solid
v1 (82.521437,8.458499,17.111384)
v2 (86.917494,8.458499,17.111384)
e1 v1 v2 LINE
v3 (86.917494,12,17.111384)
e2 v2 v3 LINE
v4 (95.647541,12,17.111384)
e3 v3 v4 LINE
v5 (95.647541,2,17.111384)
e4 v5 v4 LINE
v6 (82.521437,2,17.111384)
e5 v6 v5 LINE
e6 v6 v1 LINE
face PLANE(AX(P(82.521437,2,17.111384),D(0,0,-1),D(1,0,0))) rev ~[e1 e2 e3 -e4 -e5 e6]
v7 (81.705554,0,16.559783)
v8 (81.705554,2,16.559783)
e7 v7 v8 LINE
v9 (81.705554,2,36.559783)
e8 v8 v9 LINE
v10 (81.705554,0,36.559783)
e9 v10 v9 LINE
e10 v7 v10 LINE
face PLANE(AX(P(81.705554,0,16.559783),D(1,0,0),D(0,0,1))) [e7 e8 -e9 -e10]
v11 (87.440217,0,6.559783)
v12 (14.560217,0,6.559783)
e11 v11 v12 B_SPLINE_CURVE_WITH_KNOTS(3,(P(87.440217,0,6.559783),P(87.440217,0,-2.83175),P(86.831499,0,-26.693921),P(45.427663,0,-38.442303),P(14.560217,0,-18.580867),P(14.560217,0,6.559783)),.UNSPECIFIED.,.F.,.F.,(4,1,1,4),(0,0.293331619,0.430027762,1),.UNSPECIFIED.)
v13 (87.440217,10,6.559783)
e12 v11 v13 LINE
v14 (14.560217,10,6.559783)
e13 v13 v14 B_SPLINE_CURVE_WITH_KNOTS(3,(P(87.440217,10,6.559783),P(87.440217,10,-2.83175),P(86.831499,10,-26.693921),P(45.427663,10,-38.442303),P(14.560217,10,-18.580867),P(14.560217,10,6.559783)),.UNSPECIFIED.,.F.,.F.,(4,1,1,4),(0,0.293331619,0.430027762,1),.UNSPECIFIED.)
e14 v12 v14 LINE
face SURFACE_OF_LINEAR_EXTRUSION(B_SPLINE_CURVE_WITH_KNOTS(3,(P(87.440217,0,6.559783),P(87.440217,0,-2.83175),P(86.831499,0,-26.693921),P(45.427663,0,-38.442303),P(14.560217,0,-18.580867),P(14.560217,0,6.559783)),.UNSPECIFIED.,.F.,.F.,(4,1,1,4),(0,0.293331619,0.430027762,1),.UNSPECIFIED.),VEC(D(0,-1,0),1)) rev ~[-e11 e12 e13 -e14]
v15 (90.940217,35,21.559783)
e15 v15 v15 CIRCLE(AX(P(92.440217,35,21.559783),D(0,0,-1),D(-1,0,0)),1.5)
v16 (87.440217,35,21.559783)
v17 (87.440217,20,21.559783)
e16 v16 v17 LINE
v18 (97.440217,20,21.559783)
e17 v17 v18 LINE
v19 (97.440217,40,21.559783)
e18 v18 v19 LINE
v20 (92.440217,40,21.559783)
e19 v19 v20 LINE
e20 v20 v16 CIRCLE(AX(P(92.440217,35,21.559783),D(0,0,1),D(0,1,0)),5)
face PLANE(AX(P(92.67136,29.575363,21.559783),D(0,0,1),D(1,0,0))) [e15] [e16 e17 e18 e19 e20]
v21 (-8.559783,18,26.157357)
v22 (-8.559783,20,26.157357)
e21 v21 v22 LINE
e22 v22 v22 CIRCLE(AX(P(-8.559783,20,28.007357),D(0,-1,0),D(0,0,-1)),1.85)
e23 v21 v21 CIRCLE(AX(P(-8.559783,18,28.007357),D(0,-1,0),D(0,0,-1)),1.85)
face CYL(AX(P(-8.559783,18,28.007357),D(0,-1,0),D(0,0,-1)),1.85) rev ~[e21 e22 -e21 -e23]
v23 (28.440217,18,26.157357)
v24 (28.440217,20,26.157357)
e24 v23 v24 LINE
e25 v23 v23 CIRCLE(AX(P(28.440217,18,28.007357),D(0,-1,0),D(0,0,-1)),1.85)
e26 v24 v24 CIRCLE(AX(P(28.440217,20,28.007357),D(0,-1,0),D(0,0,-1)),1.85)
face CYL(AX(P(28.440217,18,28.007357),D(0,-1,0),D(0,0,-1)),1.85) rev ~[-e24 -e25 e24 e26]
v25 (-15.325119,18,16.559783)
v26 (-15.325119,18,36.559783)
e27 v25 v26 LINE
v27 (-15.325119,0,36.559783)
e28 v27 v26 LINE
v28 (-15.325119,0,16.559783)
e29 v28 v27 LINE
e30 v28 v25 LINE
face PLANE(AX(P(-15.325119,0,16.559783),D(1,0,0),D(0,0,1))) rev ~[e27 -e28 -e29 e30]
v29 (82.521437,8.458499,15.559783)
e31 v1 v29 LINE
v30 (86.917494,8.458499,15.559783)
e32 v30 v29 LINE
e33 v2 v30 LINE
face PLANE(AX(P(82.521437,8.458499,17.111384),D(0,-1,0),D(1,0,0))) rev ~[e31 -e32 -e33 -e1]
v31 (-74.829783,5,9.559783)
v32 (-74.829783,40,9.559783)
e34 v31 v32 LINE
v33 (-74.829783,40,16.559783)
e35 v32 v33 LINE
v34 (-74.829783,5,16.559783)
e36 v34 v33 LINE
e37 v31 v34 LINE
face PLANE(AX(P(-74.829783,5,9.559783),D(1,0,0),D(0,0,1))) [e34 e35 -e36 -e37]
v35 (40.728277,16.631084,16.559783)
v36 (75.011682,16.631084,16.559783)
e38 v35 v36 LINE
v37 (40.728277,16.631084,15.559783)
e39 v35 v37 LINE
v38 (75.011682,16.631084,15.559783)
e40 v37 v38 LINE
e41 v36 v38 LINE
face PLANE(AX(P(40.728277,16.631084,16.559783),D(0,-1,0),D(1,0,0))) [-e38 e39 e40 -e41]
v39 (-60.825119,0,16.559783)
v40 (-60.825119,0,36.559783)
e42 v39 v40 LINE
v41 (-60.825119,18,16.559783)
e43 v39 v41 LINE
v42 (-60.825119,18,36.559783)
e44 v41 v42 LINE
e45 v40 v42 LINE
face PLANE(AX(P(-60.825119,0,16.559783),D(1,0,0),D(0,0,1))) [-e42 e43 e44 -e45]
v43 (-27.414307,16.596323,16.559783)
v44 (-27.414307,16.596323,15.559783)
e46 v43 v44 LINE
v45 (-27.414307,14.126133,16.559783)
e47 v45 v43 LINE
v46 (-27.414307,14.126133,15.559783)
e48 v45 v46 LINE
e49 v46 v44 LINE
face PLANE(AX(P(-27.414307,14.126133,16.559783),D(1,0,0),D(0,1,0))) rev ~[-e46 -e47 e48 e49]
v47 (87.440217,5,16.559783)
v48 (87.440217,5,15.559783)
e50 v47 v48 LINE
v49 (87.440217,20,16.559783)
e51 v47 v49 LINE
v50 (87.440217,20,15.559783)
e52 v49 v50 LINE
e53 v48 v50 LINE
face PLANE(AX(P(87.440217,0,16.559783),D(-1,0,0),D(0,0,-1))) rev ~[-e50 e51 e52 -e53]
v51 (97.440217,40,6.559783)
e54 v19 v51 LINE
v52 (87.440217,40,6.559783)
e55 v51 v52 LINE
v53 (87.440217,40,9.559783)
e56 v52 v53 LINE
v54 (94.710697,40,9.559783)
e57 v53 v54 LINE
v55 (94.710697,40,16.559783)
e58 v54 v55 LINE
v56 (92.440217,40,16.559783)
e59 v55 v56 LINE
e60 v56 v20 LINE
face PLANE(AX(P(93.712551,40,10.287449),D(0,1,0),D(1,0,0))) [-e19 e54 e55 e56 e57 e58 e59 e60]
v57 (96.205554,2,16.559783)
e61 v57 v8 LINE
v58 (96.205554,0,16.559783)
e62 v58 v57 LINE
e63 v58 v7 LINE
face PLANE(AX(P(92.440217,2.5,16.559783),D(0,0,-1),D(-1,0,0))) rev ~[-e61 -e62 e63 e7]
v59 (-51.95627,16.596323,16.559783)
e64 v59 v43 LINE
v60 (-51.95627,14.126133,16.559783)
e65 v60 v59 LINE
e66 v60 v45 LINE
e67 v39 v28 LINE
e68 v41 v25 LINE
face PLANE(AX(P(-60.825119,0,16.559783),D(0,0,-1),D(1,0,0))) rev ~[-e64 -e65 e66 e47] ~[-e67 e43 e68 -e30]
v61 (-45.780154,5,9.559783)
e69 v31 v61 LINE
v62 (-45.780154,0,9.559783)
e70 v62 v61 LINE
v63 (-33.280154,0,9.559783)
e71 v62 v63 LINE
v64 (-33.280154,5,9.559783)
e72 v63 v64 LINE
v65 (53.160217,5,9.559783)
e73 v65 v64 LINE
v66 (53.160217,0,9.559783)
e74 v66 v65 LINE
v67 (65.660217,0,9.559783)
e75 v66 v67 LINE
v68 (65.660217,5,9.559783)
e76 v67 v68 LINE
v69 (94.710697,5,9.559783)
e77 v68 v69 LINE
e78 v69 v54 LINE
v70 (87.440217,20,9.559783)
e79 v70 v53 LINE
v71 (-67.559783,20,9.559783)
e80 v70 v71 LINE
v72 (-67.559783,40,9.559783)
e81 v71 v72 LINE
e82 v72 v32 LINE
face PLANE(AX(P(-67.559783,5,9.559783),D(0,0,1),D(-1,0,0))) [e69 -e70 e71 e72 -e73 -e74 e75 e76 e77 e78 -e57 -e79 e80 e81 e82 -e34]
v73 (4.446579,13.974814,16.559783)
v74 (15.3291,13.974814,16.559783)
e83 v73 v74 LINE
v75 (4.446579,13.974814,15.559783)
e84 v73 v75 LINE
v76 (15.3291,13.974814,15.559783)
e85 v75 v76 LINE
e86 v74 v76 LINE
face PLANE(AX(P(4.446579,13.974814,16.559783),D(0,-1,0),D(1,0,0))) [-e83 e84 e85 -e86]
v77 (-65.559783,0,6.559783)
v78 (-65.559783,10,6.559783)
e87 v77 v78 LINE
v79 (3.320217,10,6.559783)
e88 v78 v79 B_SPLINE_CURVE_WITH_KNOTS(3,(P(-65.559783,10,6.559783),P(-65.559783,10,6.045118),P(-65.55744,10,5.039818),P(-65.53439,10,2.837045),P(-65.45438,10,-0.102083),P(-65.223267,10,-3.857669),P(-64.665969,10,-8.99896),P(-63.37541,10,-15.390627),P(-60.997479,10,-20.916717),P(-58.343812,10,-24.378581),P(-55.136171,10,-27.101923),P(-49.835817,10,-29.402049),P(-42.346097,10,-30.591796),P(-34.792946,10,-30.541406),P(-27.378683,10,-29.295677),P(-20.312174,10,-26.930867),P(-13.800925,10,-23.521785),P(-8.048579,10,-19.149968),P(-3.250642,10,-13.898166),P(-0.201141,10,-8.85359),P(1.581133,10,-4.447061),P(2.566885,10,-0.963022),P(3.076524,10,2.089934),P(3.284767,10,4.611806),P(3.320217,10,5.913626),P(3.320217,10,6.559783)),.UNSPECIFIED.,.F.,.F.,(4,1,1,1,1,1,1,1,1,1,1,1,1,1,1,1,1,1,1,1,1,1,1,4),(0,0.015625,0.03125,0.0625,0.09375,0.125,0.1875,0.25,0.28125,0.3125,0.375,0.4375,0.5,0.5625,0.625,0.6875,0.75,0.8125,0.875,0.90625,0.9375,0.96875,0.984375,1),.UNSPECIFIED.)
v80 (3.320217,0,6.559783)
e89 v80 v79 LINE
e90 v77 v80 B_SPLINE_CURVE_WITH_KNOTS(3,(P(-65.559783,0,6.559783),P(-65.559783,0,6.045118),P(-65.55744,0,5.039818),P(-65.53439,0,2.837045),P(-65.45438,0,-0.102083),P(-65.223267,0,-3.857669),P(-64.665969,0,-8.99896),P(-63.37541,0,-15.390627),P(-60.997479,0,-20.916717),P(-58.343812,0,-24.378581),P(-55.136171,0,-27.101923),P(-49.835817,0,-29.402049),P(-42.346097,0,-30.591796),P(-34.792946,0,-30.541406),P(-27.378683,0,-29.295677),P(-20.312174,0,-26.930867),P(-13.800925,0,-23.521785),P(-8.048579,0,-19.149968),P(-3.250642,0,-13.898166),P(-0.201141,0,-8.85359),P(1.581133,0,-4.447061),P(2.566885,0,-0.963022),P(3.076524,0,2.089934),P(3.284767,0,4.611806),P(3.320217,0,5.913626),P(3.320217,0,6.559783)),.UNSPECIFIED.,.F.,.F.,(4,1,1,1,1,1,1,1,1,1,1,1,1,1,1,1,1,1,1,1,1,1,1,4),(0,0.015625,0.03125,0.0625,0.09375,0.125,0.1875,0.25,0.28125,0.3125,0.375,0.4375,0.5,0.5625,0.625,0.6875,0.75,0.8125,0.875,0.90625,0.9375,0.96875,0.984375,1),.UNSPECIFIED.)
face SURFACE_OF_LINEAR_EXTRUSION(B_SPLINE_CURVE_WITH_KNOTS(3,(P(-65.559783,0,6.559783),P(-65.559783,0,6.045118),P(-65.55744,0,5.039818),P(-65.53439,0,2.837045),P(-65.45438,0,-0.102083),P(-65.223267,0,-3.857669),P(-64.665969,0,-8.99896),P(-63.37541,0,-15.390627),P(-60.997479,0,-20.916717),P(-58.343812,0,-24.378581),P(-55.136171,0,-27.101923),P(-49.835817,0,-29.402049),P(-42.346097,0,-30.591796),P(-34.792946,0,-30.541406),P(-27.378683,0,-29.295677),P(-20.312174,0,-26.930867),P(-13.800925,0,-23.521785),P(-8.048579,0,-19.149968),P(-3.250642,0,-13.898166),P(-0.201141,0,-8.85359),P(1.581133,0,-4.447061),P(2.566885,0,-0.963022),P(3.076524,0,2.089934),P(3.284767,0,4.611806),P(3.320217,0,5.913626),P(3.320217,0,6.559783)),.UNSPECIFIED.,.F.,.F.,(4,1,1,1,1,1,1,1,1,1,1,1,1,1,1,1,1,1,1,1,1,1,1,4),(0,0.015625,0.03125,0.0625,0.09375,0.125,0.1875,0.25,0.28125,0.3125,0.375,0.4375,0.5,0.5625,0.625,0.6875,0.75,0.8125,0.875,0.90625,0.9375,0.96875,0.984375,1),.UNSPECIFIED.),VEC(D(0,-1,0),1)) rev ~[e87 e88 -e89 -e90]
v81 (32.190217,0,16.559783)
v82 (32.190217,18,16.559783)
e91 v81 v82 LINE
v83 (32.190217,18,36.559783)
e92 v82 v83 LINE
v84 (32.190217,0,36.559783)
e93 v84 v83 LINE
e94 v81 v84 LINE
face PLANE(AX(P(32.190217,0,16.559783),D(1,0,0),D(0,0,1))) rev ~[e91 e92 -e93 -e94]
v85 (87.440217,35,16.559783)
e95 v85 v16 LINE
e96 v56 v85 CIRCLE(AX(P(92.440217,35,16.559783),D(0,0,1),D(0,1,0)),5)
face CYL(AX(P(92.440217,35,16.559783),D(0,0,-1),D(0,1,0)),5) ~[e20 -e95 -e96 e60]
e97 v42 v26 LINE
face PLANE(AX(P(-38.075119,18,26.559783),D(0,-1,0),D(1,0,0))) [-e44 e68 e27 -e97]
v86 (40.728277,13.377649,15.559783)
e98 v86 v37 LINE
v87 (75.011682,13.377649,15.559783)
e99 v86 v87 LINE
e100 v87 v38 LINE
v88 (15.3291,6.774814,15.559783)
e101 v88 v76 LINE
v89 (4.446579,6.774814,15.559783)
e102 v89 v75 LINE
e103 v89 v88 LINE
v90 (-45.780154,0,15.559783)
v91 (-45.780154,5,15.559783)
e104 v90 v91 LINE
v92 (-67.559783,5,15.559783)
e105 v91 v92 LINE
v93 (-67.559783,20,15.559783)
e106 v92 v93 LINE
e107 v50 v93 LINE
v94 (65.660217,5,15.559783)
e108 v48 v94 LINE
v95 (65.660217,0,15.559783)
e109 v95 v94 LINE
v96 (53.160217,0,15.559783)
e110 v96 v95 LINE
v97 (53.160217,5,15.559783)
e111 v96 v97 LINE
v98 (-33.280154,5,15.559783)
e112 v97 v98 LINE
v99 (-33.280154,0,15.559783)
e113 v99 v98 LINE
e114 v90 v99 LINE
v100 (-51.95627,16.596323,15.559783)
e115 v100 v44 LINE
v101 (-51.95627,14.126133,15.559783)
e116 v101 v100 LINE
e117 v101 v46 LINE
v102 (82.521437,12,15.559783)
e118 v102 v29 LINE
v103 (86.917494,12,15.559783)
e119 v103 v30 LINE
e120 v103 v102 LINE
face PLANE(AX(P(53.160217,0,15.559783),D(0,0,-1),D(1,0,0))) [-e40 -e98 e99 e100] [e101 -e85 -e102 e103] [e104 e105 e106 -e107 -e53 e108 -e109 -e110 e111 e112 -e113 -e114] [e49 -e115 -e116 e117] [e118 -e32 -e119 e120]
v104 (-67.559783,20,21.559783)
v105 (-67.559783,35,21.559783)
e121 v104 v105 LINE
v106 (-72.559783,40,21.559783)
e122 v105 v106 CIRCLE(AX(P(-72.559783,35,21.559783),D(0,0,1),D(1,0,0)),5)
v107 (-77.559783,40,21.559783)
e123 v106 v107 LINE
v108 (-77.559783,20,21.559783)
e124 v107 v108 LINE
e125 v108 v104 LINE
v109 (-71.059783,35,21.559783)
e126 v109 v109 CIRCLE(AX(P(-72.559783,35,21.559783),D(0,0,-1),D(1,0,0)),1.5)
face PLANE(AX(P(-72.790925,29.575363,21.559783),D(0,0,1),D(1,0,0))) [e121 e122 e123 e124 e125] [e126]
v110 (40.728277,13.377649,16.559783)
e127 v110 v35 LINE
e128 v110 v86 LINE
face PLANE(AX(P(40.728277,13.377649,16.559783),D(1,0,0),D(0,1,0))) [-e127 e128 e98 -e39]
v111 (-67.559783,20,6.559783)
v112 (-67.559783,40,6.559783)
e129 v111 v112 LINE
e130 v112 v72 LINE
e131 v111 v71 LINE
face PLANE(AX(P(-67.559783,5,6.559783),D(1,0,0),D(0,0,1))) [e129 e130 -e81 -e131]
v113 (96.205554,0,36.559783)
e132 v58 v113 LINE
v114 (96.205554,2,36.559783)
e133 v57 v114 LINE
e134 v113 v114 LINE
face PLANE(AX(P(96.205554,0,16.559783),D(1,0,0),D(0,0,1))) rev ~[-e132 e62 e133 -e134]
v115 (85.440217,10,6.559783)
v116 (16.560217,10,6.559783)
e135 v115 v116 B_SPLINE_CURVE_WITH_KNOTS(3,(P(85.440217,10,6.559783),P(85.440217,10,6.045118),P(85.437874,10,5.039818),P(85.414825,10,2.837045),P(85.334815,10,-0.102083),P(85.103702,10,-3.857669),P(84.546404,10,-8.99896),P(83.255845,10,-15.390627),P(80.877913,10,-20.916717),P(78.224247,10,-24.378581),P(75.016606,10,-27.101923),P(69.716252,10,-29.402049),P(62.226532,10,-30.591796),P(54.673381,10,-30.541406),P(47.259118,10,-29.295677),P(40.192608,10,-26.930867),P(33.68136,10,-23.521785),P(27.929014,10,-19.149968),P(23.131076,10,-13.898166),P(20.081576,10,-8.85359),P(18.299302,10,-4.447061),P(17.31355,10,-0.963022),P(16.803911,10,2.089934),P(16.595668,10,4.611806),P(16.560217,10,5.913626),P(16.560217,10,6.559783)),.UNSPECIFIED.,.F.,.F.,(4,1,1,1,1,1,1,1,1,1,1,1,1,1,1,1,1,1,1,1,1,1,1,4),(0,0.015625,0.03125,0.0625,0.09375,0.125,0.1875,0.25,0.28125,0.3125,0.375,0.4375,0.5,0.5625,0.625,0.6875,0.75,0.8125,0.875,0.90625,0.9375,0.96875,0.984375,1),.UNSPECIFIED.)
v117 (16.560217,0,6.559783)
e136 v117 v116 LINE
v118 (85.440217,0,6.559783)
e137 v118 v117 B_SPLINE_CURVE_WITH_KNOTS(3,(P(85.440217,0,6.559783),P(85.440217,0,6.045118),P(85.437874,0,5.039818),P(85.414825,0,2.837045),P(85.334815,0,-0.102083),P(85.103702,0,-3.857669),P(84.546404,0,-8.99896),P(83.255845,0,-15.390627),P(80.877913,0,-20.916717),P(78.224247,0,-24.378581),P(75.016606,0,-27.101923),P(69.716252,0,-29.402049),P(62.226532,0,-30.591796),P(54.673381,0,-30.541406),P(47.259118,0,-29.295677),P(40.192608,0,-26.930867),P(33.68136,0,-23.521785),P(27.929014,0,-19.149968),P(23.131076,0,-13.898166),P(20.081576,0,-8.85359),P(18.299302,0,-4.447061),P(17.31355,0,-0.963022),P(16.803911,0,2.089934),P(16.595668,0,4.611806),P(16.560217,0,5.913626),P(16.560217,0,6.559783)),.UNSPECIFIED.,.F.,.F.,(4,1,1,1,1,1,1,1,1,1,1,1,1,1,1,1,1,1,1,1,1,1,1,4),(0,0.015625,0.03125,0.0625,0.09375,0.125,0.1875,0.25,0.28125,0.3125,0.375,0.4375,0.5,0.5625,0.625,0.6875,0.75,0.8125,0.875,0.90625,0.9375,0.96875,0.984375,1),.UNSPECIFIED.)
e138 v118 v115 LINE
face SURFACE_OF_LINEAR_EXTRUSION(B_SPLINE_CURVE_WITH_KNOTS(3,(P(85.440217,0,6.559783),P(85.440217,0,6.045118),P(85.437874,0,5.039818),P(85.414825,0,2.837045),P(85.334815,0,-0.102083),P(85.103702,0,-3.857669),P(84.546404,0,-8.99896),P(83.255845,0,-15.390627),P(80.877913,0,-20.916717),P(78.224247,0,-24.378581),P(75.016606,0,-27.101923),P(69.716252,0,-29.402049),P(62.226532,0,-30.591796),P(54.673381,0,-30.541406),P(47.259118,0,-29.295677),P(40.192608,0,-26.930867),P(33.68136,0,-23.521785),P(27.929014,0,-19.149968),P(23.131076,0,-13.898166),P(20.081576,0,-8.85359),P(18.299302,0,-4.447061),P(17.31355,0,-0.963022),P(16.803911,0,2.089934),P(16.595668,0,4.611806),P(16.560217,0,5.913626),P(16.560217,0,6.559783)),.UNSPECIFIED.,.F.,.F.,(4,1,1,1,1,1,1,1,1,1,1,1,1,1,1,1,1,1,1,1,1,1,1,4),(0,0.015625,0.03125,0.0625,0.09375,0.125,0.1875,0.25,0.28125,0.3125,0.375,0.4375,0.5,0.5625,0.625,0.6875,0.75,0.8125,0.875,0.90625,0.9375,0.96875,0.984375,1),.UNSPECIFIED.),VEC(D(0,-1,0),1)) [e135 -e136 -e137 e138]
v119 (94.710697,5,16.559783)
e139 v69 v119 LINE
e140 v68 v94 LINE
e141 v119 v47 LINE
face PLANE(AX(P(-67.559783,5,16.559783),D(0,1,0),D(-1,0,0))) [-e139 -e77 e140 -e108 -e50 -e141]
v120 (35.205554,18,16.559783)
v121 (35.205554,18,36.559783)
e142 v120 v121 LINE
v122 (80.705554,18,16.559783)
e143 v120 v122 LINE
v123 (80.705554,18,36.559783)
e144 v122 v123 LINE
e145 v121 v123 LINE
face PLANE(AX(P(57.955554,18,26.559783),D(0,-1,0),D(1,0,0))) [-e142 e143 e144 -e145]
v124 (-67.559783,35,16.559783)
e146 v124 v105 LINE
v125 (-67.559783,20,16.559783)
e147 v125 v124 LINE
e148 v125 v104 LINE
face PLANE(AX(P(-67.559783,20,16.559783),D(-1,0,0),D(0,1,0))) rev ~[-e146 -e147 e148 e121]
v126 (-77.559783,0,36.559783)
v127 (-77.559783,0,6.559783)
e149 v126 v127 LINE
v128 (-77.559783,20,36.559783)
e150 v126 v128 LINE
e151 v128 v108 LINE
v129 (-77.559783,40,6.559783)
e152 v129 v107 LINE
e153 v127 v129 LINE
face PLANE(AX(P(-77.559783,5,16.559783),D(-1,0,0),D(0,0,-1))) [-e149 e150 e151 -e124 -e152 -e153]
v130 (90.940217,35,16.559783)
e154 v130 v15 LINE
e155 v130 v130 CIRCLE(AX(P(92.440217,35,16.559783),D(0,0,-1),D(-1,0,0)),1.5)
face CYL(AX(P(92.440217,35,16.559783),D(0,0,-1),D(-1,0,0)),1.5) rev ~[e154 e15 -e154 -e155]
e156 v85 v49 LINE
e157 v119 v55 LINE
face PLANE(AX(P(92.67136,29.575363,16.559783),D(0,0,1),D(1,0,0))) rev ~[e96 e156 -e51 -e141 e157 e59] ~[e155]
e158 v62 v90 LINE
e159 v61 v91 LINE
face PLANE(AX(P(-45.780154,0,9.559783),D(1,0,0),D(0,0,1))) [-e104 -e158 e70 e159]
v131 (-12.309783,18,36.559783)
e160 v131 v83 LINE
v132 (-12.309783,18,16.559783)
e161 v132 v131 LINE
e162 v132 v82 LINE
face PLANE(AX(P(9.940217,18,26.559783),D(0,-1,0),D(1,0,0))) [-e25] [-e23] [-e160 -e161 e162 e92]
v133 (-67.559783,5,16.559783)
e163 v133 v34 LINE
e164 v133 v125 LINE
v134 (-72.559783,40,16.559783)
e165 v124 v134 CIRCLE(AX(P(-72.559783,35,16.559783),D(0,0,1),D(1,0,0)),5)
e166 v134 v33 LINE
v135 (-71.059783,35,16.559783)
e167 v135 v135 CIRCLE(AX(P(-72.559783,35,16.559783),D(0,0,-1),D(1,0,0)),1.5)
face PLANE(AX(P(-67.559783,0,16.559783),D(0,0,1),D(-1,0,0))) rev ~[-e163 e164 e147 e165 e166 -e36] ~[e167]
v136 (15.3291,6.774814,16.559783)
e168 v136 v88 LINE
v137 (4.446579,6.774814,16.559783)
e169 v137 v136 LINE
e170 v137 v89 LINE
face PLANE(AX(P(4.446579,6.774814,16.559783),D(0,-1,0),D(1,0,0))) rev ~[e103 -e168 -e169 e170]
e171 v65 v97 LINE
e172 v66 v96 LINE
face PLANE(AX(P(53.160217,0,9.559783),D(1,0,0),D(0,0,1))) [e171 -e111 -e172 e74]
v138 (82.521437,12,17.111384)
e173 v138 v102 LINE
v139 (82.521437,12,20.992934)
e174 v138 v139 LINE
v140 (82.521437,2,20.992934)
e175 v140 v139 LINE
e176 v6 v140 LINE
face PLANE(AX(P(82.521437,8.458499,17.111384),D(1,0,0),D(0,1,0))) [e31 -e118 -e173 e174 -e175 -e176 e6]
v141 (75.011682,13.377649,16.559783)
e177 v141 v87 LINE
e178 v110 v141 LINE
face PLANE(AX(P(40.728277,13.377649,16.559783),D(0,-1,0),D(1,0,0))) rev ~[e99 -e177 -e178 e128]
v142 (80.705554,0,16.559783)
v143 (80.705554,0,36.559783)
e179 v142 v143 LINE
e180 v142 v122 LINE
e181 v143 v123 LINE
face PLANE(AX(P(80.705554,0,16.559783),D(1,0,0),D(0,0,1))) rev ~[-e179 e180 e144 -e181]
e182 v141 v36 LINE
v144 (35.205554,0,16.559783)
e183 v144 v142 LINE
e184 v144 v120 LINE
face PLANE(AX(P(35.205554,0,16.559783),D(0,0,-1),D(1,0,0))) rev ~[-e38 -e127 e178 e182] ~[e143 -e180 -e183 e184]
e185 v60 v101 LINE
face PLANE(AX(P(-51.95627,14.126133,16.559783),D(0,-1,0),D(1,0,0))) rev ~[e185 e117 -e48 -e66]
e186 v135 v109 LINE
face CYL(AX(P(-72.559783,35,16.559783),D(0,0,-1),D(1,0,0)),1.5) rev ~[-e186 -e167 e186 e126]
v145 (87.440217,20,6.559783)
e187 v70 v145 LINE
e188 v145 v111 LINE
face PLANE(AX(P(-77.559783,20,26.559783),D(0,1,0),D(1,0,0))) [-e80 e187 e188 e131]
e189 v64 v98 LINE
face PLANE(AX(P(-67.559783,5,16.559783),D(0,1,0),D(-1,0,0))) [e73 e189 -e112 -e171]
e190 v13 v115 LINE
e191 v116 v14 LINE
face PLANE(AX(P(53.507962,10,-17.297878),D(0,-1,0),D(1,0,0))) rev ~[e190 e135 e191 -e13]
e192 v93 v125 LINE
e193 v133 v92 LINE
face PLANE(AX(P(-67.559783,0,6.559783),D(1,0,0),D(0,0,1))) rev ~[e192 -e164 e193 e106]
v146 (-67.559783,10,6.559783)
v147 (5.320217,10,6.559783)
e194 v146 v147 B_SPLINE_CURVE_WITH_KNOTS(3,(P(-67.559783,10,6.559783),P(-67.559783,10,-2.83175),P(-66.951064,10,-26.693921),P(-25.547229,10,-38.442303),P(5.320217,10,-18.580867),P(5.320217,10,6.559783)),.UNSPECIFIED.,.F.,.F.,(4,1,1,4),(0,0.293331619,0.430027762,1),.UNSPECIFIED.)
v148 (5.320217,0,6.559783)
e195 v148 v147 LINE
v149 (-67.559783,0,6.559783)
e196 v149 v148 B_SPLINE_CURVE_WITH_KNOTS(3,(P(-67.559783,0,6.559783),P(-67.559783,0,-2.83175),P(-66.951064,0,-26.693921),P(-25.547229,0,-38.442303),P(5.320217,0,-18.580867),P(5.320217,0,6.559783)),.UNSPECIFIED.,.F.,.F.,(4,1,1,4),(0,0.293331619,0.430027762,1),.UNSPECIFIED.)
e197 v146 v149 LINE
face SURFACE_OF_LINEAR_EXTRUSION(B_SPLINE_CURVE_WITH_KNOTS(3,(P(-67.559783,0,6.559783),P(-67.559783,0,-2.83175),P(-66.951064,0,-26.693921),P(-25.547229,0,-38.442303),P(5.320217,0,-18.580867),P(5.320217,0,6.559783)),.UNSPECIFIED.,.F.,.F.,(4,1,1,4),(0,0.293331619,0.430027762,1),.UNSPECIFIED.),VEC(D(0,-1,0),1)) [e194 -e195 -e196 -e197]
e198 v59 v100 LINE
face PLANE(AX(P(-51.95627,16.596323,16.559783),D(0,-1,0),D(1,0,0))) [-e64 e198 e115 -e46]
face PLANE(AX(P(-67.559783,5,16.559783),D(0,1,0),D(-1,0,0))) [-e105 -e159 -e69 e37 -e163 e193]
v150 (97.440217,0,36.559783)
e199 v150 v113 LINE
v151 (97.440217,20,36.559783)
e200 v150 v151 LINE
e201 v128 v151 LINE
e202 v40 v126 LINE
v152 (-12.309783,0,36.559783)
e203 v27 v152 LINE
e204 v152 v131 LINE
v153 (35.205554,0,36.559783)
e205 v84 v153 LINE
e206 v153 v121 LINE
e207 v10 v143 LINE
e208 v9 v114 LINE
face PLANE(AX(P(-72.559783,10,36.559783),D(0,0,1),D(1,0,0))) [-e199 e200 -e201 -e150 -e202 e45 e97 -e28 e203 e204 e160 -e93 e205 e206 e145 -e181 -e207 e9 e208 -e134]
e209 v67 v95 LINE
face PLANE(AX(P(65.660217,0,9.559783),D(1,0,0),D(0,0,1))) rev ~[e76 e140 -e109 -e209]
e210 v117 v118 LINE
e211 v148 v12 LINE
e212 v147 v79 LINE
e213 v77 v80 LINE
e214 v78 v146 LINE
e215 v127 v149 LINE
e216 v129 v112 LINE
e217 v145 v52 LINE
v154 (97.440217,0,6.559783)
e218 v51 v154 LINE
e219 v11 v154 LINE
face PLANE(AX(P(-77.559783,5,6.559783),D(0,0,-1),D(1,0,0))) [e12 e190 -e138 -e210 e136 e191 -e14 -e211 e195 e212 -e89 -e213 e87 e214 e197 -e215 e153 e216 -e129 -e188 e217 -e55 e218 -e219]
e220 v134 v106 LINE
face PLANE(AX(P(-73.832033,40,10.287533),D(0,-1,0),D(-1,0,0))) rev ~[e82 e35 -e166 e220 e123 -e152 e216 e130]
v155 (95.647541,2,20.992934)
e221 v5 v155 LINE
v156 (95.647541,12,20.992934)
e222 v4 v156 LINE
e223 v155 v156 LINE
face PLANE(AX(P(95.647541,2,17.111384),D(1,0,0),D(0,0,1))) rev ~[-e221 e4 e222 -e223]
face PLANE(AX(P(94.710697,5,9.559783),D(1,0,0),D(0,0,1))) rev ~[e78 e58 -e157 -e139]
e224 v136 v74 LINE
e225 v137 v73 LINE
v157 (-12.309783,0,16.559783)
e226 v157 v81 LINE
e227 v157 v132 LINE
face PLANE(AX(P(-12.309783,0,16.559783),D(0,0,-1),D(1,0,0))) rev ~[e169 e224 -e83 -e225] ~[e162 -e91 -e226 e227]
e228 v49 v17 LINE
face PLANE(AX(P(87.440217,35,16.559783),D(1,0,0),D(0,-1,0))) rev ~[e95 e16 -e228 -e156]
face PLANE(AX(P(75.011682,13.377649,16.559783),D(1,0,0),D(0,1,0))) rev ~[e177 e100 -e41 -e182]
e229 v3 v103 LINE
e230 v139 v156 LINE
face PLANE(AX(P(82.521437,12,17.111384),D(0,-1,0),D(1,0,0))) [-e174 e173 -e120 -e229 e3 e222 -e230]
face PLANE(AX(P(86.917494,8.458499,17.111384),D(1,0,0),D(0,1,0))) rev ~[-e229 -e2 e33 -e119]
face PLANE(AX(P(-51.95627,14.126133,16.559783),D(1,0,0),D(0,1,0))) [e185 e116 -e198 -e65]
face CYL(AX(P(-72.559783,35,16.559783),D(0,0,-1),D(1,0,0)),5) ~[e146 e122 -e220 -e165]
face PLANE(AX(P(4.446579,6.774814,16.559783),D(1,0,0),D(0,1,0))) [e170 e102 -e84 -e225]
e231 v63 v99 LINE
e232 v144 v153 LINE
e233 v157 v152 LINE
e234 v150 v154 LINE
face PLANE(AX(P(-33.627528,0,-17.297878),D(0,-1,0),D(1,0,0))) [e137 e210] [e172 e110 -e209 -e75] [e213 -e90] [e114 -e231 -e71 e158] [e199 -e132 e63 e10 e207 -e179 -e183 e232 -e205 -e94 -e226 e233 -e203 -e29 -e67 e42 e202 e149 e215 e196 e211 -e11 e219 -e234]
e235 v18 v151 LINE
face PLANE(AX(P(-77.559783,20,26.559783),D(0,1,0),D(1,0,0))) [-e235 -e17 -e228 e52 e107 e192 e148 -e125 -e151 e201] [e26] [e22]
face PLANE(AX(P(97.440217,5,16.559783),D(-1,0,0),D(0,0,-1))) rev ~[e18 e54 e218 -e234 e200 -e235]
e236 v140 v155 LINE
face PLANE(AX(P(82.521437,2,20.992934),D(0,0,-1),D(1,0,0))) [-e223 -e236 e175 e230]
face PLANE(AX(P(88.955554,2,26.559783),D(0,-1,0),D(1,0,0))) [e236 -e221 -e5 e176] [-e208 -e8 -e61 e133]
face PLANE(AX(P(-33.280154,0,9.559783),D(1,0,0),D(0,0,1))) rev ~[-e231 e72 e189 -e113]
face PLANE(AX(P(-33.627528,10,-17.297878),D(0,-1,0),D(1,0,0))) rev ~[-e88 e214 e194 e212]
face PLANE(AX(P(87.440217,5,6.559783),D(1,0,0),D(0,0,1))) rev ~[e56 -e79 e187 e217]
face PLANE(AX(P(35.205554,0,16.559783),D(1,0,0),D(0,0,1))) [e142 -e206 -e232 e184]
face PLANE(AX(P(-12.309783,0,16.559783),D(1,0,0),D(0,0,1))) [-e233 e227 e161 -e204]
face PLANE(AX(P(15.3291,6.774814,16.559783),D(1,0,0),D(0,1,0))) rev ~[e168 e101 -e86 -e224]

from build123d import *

# Parameters (mm, degrees)
EXTRUDE_424_DEPTH      = 20
SKETCH_9_W             = 44.5
SKETCH_9_H             = 20
SKETCH_9_W_2           = 45.5
IR_DEPTH               = 18
SKETCH_10_W            = 10
SKETCH_10_H            = 20
EXTRUDE_4_DEPTH        = 10
SKETCH_11_W            = 10
SKETCH_11_H            = 20
EXTRUDE_5_DEPTH        = 10
SKETCH_12_R            = 1.85
IR_2_DEPTH             = 10
SKETCH_15_W            = 6
SKETCH_15_H            = 15
CUT_EXTRUDE_2222_DEPTH = 171.181132046
SKETCH_13_W            = 10.882520515
SKETCH_13_H            = 7.2
IR_3_DEPTH             = 1
SKETCH_16_W            = 24.541962537
SKETCH_16_H            = 2.470190362
CUT_EXTRUDE_1_DEPTH    = 1
SKETCH_17_W            = 34.283405153
SKETCH_17_H            = 3.253435469
CUT_EXTRUDE_2_DEPTH    = 1
SKETCH_18_W            = 14.5
SKETCH_18_H            = 20
BH1750_DEPTH           = 2
SKETCH_19_W            = 13.126104065
SKETCH_19_H            = 3.881549914
BH1759_1_DEPTH         = 10
SKETCH_25_W            = 10
SKETCH_25_H            = 5
EXTRUDE_6_DEPTH        = 10
SKETCH_28_W            = 10
SKETCH_28_H            = 5
EXTRUDE_7_DEPTH        = 10
SKETCH_29_W            = 12.5
SKETCH_29_H            = 6
CUT_EXTRUDE_1_2_DEPTH  = 5
SKETCH_8_R             = 1.5
EXTRUDE_9_DEPTH        = 5
EXTRUDE_10_DEPTH       = 10
EXTRUDE_10_2_DEPTH     = 10
EXTRUDE_11_DEPTH       = 35
EXTRUDE_12_DEPTH       = 35
SKETCH_33_W            = 4.396057752
SKETCH_33_H            = 3.541501354
CUT_EXTRUDE_15_DEPTH   = 4


with BuildPart() as part:
    # 草图6 → Extrude 424 (new body)
    with BuildSketch(Plane(origin=(0, 0, 0), x_dir=(1, 0, 0), z_dir=(0, 1, 0))):
        Polygon((-77.559782609, -16.559782609), (-77.559782609, -26.559782609), (-67.559782609, -26.559782609), (-67.559782609, -36.559782609), (87.440217391, -36.559782609), (87.440217391, -26.559782609), (97.440217391, -26.559782609), (97.440217391, -16.559782609), (87.440217391, -16.559782609), (87.440217391, -6.559782609), (-67.559782609, -6.559782609), (-67.559782609, -16.559782609), align=None)
    extrude(amount=EXTRUDE_424_DEPTH)

    # 草图9 → ir (cut)
    with BuildSketch(Plane.XZ):
        with Locations((9.940217391, 26.559782609)):
            Rectangle(SKETCH_9_W, SKETCH_9_H)
        with Locations((57.955553821, 26.559782609)):
            Rectangle(SKETCH_9_W_2, SKETCH_9_H)
        with Locations((-38.075119038, 26.559782609)):
            Rectangle(SKETCH_9_W_2, SKETCH_9_H)
    extrude(amount=-IR_DEPTH, mode=Mode.SUBTRACT)

    # 草图10 → 凸台-拉伸4 (add)
    with BuildSketch(Plane.XY.offset(26.559782609)):
        with Locations((92.440217391, 10)):
            Rectangle(SKETCH_10_W, SKETCH_10_H)
    extrude(amount=EXTRUDE_4_DEPTH)

    # 草图11 → 凸台-拉伸5 (add)
    with BuildSketch(Plane.XY.offset(26.559782609)):
        with Locations((-72.559782609, 10)):
            Rectangle(SKETCH_11_W, SKETCH_11_H)
    extrude(amount=EXTRUDE_5_DEPTH)

    # 草图12 → IR 2 (cut)
    with BuildSketch(Plane.XZ.offset(-18)):
        with Locations(Location((-8.559782609, 28.007356634, 0), (0, 0, 270))):
            Circle(SKETCH_12_R)
        with Locations(Location((28.440217391, 28.007356634, 0), (0, 0, 270))):
            Circle(SKETCH_12_R)
    extrude(amount=-IR_2_DEPTH, mode=Mode.SUBTRACT)

    # 草图15 → Cut-Extrude 2222 (cut, through all)
    with BuildSketch(Plane(origin=(87.440217391, 0, 0), x_dir=(0, 0, -1), z_dir=(1, 0, 0))):
        with Locations((-12.559782609, 12.5)):
            Rectangle(SKETCH_15_W, SKETCH_15_H)
    extrude(amount=-CUT_EXTRUDE_2222_DEPTH, mode=Mode.SUBTRACT)

    # 草图13 → ir 3 (cut)
    with BuildSketch(Plane.XY.offset(16.559782609)):
        with Locations((9.887839431, 10.374814022)):
            Rectangle(SKETCH_13_W, SKETCH_13_H)
    extrude(amount=-IR_3_DEPTH, mode=Mode.SUBTRACT)

    # 草图16 → Cut-Extrude 1 (cut)
    with BuildSketch(Plane.XY.offset(16.559782609)):
        with Locations((-39.68528849, 15.361228101)):
            Rectangle(SKETCH_16_W, SKETCH_16_H)
    extrude(amount=-CUT_EXTRUDE_1_DEPTH, mode=Mode.SUBTRACT)

    # 草图17 → 超声2接线孔 (cut)
    with BuildSketch(Plane.XY.offset(16.559782609)):
        with Locations((57.869979923, 15.004366633)):
            Rectangle(SKETCH_17_W, SKETCH_17_H)
    extrude(amount=-CUT_EXTRUDE_2_DEPTH, mode=Mode.SUBTRACT)

    # 草图18 → BH1750_前_固定孔 (cut)
    with BuildSketch(Plane.XZ):
        with Locations((88.955553821, 26.559782609)):
            Rectangle(SKETCH_18_W, SKETCH_18_H)
    extrude(amount=-BH1750_DEPTH, mode=Mode.SUBTRACT)

    # 草图19 → BH1759排线槽1 (cut)
    with BuildSketch(Plane.XZ.offset(-2)):
        with Locations((89.084488571, 19.052159055)):
            Rectangle(SKETCH_19_W, SKETCH_19_H)
    extrude(amount=-BH1759_1_DEPTH, mode=Mode.SUBTRACT)

    # 草图25 → 凸台-拉伸6 (add)
    with BuildSketch(Plane(origin=(0, 0, 16.559782609), x_dir=(-1, 0, 0), z_dir=(0, 0, -1))):
        with Locations((-92.440217391, 2.5)):
            Rectangle(SKETCH_25_W, SKETCH_25_H)
    extrude(amount=EXTRUDE_6_DEPTH)

    # 草图28 → 凸台-拉伸7 (add)
    with BuildSketch(Plane(origin=(0, 0, 16.559782609), x_dir=(-1, 0, 0), z_dir=(0, 0, -1))):
        with Locations((72.559782609, 2.5)):
            Rectangle(SKETCH_28_W, SKETCH_28_H)
    extrude(amount=EXTRUDE_7_DEPTH)

    # 草图29 → Cut-Extrude 1 2 (cut)
    with BuildSketch(Plane.XZ):
        with Locations((-39.530153737, 12.559782609)):
            Rectangle(SKETCH_29_W, SKETCH_29_H)
        with Locations((59.410217391, 12.559782609)):
            Rectangle(SKETCH_29_W, SKETCH_29_H)
    extrude(amount=-CUT_EXTRUDE_1_2_DEPTH, mode=Mode.SUBTRACT)

    # 草图8 → 凸台-拉伸9 (add)
    # profile 1 of 2: a face of its own
    with BuildSketch(Plane(origin=(0, 0, 16.559782609), x_dir=(-1, 0, 0), z_dir=(0, 0, -1))):
        with BuildLine():
            Line((-87.440217391, 20), (-97.440217391, 20))
            Line((-97.440217391, 20), (-97.440217391, 40))
            Line((-97.440217391, 40), (-92.440217391, 40))
            ThreePointArc((-92.440217391, 40), (-88.904683485, 38.535533906), (-87.440217391, 35))
            Line((-87.440217391, 35), (-87.440217391, 20))
        make_face()
        with Locations((-92.440217391, 35)):
            Circle(SKETCH_8_R, mode=Mode.SUBTRACT)
    # profile 2 of 2: a face of its own
    with BuildSketch(Plane(origin=(0, 0, 16.559782609), x_dir=(-1, 0, 0), z_dir=(0, 0, -1))):
        with BuildLine():
            Line((67.559782609, 20), (67.559782609, 35))
            ThreePointArc((67.559782609, 35), (69.024248703, 38.535533906), (72.559782609, 40))
            Line((72.559782609, 40), (77.559782609, 40))
            Line((77.559782609, 40), (77.559782609, 20))
            Line((77.559782609, 20), (67.559782609, 20))
        make_face()
        with Locations(Location((72.559782609, 35, 0), (0, 0, 180))):
            Circle(SKETCH_8_R, mode=Mode.SUBTRACT)
    extrude(amount=-EXTRUDE_9_DEPTH)



with BuildPart() as body_2:
    # 草图30 → 凸台-拉伸10 (new body)
    with BuildSketch(Plane.XZ):
        with BuildLine():
            Line((-65.559782609, 6.559782609), (-67.559782609, 6.559782609))
            add(Edge.make_bspline(
                [(-67.559782609, 6.559782609), (-67.559782615, -2.831750368), (-66.951063879, -26.693920993), (-25.547228665, -38.442302875), (5.320217293, -18.58086721), (5.320217391, 6.559782609)],
                knots=[0, 0, 0, 0, 0.293331619, 0.430027762, 1, 1, 1, 1], degree=3))
            Line((5.320217391, 6.559782609), (3.320217391, 6.559782609))
            add(Edge.make_bspline(
                [(-65.559782609, 6.559782607), (-65.559782609, 6.045118096), (-65.557439516, 5.039817519), (-65.534390428, 2.837044533), (-65.454379934, -0.102082601), (-65.223267199, -3.857669351), (-64.665969093, -8.998959682), (-63.375409887, -15.390627267), (-60.997478567, -20.916717154), (-58.343812027, -24.378581092), (-55.136170725, -27.10192273), (-49.835817329, -29.402048854), (-42.346097069, -30.591796275), (-34.792946451, -30.541405828), (-27.378683065, -29.295677263), (-20.312173541, -26.930867488), (-13.800925165, -23.521784965), (-8.048578767, -19.149967972), (-3.250641537, -13.89816626), (-0.201141288, -8.853589574), (1.581132972, -4.447061116), (2.566885134, -0.963022362), (3.076523936, 2.089934189), (3.284766561, 4.611805642), (3.320217389, 5.913625911), (3.320217391, 6.559782617)],
                knots=[0, 0, 0, 0, 0.015625, 0.03125, 0.0625, 0.09375, 0.125, 0.1875, 0.25, 0.28125, 0.3125, 0.375, 0.4375, 0.5, 0.5625, 0.625, 0.6875, 0.75, 0.8125, 0.875, 0.90625, 0.9375, 0.96875, 0.984375, 1, 1, 1, 1], degree=3))
        make_face()
    extrude(amount=-EXTRUDE_10_DEPTH)


with BuildPart() as body_3:
    # 草图30 → Extrude 10 2 (new body)
    with BuildSketch(Plane.XZ):
        with BuildLine():
            Line((16.560217391, 6.559782609), (14.560217391, 6.559782609))
            add(Edge.make_bspline(
                [(87.440217391, 6.559782609), (87.440217398, -2.831750368), (86.831498662, -26.693920993), (45.427663448, -38.442302875), (14.56021749, -18.58086721), (14.560217391, 6.559782609)],
                knots=[0, 0, 0, 0, 0.293331619, 0.430027762, 1, 1, 1, 1], degree=3))
            Line((87.440217391, 6.559782609), (85.440217391, 6.559782609))
            add(Edge.make_bspline(
                [(85.440217391, 6.559782607), (85.440217392, 6.045118096), (85.437874299, 5.039817519), (85.41482521, 2.837044533), (85.334814717, -0.102082601), (85.103701982, -3.857669351), (84.546403875, -8.998959682), (83.25584467, -15.390627267), (80.87791335, -20.916717154), (78.224246809, -24.378581092), (75.016605508, -27.10192273), (69.716252112, -29.402048854), (62.226531852, -30.591796275), (54.673381234, -30.541405828), (47.259117848, -29.295677263), (40.192608324, -26.930867488), (33.681359948, -23.521784965), (27.92901355, -19.149967972), (23.13107632, -13.89816626), (20.08157607, -8.853589574), (18.29930181, -4.447061116), (17.313549649, -0.963022362), (16.803910846, 2.089934189), (16.595668222, 4.611805642), (16.560217394, 5.913625911), (16.560217391, 6.559782617)],
                knots=[0, 0, 0, 0, 0.015625, 0.03125, 0.0625, 0.09375, 0.125, 0.1875, 0.25, 0.28125, 0.3125, 0.375, 0.4375, 0.5, 0.5625, 0.625, 0.6875, 0.75, 0.8125, 0.875, 0.90625, 0.9375, 0.96875, 0.984375, 1, 1, 1, 1], degree=3))
        make_face()
    extrude(amount=-EXTRUDE_10_2_DEPTH)


with BuildPart() as part_1:
    add(part.part)

    add(body_3.part)  # 凸台-拉伸11 merges body 3
    # 草图31 → 凸台-拉伸11 (add)
    with BuildSketch(Plane(origin=(0, 5, 0), x_dir=(1, 0, 0), z_dir=(0, 1, 0))):
        Polygon((87.440217391, -6.559782609), (87.440217391, -9.559782609), (94.710697122, -9.559782609), (94.710697122, -16.559782609), (97.440217391, -16.559782609), (97.440217391, -6.559782609), align=None)
    extrude(amount=EXTRUDE_11_DEPTH)


    add(body_2.part)  # 凸台-拉伸12 merges body 2
    # 草图32 → 凸台-拉伸12 (add)
    with BuildSketch(Plane(origin=(0, 5, 0), x_dir=(1, 0, 0), z_dir=(0, 1, 0))):
        Polygon((-67.559782609, -6.559782609), (-67.559782609, -9.559782609), (-74.829782609, -9.559782609), (-74.829782609, -16.559782609), (-77.559782609, -16.559782609), (-77.559782609, -6.559782609), align=None)
    extrude(amount=EXTRUDE_12_DEPTH)

    # 草图33 → 切除-拉伸15 (cut)
    with BuildSketch(Plane.XY.offset(17.111384098)):
        with Locations((84.719465414, 10.229249323)):
            Rectangle(SKETCH_33_W, SKETCH_33_H)
    extrude(amount=-CUT_EXTRUDE_15_DEPTH, mode=Mode.SUBTRACT)


solid = part_1.part
